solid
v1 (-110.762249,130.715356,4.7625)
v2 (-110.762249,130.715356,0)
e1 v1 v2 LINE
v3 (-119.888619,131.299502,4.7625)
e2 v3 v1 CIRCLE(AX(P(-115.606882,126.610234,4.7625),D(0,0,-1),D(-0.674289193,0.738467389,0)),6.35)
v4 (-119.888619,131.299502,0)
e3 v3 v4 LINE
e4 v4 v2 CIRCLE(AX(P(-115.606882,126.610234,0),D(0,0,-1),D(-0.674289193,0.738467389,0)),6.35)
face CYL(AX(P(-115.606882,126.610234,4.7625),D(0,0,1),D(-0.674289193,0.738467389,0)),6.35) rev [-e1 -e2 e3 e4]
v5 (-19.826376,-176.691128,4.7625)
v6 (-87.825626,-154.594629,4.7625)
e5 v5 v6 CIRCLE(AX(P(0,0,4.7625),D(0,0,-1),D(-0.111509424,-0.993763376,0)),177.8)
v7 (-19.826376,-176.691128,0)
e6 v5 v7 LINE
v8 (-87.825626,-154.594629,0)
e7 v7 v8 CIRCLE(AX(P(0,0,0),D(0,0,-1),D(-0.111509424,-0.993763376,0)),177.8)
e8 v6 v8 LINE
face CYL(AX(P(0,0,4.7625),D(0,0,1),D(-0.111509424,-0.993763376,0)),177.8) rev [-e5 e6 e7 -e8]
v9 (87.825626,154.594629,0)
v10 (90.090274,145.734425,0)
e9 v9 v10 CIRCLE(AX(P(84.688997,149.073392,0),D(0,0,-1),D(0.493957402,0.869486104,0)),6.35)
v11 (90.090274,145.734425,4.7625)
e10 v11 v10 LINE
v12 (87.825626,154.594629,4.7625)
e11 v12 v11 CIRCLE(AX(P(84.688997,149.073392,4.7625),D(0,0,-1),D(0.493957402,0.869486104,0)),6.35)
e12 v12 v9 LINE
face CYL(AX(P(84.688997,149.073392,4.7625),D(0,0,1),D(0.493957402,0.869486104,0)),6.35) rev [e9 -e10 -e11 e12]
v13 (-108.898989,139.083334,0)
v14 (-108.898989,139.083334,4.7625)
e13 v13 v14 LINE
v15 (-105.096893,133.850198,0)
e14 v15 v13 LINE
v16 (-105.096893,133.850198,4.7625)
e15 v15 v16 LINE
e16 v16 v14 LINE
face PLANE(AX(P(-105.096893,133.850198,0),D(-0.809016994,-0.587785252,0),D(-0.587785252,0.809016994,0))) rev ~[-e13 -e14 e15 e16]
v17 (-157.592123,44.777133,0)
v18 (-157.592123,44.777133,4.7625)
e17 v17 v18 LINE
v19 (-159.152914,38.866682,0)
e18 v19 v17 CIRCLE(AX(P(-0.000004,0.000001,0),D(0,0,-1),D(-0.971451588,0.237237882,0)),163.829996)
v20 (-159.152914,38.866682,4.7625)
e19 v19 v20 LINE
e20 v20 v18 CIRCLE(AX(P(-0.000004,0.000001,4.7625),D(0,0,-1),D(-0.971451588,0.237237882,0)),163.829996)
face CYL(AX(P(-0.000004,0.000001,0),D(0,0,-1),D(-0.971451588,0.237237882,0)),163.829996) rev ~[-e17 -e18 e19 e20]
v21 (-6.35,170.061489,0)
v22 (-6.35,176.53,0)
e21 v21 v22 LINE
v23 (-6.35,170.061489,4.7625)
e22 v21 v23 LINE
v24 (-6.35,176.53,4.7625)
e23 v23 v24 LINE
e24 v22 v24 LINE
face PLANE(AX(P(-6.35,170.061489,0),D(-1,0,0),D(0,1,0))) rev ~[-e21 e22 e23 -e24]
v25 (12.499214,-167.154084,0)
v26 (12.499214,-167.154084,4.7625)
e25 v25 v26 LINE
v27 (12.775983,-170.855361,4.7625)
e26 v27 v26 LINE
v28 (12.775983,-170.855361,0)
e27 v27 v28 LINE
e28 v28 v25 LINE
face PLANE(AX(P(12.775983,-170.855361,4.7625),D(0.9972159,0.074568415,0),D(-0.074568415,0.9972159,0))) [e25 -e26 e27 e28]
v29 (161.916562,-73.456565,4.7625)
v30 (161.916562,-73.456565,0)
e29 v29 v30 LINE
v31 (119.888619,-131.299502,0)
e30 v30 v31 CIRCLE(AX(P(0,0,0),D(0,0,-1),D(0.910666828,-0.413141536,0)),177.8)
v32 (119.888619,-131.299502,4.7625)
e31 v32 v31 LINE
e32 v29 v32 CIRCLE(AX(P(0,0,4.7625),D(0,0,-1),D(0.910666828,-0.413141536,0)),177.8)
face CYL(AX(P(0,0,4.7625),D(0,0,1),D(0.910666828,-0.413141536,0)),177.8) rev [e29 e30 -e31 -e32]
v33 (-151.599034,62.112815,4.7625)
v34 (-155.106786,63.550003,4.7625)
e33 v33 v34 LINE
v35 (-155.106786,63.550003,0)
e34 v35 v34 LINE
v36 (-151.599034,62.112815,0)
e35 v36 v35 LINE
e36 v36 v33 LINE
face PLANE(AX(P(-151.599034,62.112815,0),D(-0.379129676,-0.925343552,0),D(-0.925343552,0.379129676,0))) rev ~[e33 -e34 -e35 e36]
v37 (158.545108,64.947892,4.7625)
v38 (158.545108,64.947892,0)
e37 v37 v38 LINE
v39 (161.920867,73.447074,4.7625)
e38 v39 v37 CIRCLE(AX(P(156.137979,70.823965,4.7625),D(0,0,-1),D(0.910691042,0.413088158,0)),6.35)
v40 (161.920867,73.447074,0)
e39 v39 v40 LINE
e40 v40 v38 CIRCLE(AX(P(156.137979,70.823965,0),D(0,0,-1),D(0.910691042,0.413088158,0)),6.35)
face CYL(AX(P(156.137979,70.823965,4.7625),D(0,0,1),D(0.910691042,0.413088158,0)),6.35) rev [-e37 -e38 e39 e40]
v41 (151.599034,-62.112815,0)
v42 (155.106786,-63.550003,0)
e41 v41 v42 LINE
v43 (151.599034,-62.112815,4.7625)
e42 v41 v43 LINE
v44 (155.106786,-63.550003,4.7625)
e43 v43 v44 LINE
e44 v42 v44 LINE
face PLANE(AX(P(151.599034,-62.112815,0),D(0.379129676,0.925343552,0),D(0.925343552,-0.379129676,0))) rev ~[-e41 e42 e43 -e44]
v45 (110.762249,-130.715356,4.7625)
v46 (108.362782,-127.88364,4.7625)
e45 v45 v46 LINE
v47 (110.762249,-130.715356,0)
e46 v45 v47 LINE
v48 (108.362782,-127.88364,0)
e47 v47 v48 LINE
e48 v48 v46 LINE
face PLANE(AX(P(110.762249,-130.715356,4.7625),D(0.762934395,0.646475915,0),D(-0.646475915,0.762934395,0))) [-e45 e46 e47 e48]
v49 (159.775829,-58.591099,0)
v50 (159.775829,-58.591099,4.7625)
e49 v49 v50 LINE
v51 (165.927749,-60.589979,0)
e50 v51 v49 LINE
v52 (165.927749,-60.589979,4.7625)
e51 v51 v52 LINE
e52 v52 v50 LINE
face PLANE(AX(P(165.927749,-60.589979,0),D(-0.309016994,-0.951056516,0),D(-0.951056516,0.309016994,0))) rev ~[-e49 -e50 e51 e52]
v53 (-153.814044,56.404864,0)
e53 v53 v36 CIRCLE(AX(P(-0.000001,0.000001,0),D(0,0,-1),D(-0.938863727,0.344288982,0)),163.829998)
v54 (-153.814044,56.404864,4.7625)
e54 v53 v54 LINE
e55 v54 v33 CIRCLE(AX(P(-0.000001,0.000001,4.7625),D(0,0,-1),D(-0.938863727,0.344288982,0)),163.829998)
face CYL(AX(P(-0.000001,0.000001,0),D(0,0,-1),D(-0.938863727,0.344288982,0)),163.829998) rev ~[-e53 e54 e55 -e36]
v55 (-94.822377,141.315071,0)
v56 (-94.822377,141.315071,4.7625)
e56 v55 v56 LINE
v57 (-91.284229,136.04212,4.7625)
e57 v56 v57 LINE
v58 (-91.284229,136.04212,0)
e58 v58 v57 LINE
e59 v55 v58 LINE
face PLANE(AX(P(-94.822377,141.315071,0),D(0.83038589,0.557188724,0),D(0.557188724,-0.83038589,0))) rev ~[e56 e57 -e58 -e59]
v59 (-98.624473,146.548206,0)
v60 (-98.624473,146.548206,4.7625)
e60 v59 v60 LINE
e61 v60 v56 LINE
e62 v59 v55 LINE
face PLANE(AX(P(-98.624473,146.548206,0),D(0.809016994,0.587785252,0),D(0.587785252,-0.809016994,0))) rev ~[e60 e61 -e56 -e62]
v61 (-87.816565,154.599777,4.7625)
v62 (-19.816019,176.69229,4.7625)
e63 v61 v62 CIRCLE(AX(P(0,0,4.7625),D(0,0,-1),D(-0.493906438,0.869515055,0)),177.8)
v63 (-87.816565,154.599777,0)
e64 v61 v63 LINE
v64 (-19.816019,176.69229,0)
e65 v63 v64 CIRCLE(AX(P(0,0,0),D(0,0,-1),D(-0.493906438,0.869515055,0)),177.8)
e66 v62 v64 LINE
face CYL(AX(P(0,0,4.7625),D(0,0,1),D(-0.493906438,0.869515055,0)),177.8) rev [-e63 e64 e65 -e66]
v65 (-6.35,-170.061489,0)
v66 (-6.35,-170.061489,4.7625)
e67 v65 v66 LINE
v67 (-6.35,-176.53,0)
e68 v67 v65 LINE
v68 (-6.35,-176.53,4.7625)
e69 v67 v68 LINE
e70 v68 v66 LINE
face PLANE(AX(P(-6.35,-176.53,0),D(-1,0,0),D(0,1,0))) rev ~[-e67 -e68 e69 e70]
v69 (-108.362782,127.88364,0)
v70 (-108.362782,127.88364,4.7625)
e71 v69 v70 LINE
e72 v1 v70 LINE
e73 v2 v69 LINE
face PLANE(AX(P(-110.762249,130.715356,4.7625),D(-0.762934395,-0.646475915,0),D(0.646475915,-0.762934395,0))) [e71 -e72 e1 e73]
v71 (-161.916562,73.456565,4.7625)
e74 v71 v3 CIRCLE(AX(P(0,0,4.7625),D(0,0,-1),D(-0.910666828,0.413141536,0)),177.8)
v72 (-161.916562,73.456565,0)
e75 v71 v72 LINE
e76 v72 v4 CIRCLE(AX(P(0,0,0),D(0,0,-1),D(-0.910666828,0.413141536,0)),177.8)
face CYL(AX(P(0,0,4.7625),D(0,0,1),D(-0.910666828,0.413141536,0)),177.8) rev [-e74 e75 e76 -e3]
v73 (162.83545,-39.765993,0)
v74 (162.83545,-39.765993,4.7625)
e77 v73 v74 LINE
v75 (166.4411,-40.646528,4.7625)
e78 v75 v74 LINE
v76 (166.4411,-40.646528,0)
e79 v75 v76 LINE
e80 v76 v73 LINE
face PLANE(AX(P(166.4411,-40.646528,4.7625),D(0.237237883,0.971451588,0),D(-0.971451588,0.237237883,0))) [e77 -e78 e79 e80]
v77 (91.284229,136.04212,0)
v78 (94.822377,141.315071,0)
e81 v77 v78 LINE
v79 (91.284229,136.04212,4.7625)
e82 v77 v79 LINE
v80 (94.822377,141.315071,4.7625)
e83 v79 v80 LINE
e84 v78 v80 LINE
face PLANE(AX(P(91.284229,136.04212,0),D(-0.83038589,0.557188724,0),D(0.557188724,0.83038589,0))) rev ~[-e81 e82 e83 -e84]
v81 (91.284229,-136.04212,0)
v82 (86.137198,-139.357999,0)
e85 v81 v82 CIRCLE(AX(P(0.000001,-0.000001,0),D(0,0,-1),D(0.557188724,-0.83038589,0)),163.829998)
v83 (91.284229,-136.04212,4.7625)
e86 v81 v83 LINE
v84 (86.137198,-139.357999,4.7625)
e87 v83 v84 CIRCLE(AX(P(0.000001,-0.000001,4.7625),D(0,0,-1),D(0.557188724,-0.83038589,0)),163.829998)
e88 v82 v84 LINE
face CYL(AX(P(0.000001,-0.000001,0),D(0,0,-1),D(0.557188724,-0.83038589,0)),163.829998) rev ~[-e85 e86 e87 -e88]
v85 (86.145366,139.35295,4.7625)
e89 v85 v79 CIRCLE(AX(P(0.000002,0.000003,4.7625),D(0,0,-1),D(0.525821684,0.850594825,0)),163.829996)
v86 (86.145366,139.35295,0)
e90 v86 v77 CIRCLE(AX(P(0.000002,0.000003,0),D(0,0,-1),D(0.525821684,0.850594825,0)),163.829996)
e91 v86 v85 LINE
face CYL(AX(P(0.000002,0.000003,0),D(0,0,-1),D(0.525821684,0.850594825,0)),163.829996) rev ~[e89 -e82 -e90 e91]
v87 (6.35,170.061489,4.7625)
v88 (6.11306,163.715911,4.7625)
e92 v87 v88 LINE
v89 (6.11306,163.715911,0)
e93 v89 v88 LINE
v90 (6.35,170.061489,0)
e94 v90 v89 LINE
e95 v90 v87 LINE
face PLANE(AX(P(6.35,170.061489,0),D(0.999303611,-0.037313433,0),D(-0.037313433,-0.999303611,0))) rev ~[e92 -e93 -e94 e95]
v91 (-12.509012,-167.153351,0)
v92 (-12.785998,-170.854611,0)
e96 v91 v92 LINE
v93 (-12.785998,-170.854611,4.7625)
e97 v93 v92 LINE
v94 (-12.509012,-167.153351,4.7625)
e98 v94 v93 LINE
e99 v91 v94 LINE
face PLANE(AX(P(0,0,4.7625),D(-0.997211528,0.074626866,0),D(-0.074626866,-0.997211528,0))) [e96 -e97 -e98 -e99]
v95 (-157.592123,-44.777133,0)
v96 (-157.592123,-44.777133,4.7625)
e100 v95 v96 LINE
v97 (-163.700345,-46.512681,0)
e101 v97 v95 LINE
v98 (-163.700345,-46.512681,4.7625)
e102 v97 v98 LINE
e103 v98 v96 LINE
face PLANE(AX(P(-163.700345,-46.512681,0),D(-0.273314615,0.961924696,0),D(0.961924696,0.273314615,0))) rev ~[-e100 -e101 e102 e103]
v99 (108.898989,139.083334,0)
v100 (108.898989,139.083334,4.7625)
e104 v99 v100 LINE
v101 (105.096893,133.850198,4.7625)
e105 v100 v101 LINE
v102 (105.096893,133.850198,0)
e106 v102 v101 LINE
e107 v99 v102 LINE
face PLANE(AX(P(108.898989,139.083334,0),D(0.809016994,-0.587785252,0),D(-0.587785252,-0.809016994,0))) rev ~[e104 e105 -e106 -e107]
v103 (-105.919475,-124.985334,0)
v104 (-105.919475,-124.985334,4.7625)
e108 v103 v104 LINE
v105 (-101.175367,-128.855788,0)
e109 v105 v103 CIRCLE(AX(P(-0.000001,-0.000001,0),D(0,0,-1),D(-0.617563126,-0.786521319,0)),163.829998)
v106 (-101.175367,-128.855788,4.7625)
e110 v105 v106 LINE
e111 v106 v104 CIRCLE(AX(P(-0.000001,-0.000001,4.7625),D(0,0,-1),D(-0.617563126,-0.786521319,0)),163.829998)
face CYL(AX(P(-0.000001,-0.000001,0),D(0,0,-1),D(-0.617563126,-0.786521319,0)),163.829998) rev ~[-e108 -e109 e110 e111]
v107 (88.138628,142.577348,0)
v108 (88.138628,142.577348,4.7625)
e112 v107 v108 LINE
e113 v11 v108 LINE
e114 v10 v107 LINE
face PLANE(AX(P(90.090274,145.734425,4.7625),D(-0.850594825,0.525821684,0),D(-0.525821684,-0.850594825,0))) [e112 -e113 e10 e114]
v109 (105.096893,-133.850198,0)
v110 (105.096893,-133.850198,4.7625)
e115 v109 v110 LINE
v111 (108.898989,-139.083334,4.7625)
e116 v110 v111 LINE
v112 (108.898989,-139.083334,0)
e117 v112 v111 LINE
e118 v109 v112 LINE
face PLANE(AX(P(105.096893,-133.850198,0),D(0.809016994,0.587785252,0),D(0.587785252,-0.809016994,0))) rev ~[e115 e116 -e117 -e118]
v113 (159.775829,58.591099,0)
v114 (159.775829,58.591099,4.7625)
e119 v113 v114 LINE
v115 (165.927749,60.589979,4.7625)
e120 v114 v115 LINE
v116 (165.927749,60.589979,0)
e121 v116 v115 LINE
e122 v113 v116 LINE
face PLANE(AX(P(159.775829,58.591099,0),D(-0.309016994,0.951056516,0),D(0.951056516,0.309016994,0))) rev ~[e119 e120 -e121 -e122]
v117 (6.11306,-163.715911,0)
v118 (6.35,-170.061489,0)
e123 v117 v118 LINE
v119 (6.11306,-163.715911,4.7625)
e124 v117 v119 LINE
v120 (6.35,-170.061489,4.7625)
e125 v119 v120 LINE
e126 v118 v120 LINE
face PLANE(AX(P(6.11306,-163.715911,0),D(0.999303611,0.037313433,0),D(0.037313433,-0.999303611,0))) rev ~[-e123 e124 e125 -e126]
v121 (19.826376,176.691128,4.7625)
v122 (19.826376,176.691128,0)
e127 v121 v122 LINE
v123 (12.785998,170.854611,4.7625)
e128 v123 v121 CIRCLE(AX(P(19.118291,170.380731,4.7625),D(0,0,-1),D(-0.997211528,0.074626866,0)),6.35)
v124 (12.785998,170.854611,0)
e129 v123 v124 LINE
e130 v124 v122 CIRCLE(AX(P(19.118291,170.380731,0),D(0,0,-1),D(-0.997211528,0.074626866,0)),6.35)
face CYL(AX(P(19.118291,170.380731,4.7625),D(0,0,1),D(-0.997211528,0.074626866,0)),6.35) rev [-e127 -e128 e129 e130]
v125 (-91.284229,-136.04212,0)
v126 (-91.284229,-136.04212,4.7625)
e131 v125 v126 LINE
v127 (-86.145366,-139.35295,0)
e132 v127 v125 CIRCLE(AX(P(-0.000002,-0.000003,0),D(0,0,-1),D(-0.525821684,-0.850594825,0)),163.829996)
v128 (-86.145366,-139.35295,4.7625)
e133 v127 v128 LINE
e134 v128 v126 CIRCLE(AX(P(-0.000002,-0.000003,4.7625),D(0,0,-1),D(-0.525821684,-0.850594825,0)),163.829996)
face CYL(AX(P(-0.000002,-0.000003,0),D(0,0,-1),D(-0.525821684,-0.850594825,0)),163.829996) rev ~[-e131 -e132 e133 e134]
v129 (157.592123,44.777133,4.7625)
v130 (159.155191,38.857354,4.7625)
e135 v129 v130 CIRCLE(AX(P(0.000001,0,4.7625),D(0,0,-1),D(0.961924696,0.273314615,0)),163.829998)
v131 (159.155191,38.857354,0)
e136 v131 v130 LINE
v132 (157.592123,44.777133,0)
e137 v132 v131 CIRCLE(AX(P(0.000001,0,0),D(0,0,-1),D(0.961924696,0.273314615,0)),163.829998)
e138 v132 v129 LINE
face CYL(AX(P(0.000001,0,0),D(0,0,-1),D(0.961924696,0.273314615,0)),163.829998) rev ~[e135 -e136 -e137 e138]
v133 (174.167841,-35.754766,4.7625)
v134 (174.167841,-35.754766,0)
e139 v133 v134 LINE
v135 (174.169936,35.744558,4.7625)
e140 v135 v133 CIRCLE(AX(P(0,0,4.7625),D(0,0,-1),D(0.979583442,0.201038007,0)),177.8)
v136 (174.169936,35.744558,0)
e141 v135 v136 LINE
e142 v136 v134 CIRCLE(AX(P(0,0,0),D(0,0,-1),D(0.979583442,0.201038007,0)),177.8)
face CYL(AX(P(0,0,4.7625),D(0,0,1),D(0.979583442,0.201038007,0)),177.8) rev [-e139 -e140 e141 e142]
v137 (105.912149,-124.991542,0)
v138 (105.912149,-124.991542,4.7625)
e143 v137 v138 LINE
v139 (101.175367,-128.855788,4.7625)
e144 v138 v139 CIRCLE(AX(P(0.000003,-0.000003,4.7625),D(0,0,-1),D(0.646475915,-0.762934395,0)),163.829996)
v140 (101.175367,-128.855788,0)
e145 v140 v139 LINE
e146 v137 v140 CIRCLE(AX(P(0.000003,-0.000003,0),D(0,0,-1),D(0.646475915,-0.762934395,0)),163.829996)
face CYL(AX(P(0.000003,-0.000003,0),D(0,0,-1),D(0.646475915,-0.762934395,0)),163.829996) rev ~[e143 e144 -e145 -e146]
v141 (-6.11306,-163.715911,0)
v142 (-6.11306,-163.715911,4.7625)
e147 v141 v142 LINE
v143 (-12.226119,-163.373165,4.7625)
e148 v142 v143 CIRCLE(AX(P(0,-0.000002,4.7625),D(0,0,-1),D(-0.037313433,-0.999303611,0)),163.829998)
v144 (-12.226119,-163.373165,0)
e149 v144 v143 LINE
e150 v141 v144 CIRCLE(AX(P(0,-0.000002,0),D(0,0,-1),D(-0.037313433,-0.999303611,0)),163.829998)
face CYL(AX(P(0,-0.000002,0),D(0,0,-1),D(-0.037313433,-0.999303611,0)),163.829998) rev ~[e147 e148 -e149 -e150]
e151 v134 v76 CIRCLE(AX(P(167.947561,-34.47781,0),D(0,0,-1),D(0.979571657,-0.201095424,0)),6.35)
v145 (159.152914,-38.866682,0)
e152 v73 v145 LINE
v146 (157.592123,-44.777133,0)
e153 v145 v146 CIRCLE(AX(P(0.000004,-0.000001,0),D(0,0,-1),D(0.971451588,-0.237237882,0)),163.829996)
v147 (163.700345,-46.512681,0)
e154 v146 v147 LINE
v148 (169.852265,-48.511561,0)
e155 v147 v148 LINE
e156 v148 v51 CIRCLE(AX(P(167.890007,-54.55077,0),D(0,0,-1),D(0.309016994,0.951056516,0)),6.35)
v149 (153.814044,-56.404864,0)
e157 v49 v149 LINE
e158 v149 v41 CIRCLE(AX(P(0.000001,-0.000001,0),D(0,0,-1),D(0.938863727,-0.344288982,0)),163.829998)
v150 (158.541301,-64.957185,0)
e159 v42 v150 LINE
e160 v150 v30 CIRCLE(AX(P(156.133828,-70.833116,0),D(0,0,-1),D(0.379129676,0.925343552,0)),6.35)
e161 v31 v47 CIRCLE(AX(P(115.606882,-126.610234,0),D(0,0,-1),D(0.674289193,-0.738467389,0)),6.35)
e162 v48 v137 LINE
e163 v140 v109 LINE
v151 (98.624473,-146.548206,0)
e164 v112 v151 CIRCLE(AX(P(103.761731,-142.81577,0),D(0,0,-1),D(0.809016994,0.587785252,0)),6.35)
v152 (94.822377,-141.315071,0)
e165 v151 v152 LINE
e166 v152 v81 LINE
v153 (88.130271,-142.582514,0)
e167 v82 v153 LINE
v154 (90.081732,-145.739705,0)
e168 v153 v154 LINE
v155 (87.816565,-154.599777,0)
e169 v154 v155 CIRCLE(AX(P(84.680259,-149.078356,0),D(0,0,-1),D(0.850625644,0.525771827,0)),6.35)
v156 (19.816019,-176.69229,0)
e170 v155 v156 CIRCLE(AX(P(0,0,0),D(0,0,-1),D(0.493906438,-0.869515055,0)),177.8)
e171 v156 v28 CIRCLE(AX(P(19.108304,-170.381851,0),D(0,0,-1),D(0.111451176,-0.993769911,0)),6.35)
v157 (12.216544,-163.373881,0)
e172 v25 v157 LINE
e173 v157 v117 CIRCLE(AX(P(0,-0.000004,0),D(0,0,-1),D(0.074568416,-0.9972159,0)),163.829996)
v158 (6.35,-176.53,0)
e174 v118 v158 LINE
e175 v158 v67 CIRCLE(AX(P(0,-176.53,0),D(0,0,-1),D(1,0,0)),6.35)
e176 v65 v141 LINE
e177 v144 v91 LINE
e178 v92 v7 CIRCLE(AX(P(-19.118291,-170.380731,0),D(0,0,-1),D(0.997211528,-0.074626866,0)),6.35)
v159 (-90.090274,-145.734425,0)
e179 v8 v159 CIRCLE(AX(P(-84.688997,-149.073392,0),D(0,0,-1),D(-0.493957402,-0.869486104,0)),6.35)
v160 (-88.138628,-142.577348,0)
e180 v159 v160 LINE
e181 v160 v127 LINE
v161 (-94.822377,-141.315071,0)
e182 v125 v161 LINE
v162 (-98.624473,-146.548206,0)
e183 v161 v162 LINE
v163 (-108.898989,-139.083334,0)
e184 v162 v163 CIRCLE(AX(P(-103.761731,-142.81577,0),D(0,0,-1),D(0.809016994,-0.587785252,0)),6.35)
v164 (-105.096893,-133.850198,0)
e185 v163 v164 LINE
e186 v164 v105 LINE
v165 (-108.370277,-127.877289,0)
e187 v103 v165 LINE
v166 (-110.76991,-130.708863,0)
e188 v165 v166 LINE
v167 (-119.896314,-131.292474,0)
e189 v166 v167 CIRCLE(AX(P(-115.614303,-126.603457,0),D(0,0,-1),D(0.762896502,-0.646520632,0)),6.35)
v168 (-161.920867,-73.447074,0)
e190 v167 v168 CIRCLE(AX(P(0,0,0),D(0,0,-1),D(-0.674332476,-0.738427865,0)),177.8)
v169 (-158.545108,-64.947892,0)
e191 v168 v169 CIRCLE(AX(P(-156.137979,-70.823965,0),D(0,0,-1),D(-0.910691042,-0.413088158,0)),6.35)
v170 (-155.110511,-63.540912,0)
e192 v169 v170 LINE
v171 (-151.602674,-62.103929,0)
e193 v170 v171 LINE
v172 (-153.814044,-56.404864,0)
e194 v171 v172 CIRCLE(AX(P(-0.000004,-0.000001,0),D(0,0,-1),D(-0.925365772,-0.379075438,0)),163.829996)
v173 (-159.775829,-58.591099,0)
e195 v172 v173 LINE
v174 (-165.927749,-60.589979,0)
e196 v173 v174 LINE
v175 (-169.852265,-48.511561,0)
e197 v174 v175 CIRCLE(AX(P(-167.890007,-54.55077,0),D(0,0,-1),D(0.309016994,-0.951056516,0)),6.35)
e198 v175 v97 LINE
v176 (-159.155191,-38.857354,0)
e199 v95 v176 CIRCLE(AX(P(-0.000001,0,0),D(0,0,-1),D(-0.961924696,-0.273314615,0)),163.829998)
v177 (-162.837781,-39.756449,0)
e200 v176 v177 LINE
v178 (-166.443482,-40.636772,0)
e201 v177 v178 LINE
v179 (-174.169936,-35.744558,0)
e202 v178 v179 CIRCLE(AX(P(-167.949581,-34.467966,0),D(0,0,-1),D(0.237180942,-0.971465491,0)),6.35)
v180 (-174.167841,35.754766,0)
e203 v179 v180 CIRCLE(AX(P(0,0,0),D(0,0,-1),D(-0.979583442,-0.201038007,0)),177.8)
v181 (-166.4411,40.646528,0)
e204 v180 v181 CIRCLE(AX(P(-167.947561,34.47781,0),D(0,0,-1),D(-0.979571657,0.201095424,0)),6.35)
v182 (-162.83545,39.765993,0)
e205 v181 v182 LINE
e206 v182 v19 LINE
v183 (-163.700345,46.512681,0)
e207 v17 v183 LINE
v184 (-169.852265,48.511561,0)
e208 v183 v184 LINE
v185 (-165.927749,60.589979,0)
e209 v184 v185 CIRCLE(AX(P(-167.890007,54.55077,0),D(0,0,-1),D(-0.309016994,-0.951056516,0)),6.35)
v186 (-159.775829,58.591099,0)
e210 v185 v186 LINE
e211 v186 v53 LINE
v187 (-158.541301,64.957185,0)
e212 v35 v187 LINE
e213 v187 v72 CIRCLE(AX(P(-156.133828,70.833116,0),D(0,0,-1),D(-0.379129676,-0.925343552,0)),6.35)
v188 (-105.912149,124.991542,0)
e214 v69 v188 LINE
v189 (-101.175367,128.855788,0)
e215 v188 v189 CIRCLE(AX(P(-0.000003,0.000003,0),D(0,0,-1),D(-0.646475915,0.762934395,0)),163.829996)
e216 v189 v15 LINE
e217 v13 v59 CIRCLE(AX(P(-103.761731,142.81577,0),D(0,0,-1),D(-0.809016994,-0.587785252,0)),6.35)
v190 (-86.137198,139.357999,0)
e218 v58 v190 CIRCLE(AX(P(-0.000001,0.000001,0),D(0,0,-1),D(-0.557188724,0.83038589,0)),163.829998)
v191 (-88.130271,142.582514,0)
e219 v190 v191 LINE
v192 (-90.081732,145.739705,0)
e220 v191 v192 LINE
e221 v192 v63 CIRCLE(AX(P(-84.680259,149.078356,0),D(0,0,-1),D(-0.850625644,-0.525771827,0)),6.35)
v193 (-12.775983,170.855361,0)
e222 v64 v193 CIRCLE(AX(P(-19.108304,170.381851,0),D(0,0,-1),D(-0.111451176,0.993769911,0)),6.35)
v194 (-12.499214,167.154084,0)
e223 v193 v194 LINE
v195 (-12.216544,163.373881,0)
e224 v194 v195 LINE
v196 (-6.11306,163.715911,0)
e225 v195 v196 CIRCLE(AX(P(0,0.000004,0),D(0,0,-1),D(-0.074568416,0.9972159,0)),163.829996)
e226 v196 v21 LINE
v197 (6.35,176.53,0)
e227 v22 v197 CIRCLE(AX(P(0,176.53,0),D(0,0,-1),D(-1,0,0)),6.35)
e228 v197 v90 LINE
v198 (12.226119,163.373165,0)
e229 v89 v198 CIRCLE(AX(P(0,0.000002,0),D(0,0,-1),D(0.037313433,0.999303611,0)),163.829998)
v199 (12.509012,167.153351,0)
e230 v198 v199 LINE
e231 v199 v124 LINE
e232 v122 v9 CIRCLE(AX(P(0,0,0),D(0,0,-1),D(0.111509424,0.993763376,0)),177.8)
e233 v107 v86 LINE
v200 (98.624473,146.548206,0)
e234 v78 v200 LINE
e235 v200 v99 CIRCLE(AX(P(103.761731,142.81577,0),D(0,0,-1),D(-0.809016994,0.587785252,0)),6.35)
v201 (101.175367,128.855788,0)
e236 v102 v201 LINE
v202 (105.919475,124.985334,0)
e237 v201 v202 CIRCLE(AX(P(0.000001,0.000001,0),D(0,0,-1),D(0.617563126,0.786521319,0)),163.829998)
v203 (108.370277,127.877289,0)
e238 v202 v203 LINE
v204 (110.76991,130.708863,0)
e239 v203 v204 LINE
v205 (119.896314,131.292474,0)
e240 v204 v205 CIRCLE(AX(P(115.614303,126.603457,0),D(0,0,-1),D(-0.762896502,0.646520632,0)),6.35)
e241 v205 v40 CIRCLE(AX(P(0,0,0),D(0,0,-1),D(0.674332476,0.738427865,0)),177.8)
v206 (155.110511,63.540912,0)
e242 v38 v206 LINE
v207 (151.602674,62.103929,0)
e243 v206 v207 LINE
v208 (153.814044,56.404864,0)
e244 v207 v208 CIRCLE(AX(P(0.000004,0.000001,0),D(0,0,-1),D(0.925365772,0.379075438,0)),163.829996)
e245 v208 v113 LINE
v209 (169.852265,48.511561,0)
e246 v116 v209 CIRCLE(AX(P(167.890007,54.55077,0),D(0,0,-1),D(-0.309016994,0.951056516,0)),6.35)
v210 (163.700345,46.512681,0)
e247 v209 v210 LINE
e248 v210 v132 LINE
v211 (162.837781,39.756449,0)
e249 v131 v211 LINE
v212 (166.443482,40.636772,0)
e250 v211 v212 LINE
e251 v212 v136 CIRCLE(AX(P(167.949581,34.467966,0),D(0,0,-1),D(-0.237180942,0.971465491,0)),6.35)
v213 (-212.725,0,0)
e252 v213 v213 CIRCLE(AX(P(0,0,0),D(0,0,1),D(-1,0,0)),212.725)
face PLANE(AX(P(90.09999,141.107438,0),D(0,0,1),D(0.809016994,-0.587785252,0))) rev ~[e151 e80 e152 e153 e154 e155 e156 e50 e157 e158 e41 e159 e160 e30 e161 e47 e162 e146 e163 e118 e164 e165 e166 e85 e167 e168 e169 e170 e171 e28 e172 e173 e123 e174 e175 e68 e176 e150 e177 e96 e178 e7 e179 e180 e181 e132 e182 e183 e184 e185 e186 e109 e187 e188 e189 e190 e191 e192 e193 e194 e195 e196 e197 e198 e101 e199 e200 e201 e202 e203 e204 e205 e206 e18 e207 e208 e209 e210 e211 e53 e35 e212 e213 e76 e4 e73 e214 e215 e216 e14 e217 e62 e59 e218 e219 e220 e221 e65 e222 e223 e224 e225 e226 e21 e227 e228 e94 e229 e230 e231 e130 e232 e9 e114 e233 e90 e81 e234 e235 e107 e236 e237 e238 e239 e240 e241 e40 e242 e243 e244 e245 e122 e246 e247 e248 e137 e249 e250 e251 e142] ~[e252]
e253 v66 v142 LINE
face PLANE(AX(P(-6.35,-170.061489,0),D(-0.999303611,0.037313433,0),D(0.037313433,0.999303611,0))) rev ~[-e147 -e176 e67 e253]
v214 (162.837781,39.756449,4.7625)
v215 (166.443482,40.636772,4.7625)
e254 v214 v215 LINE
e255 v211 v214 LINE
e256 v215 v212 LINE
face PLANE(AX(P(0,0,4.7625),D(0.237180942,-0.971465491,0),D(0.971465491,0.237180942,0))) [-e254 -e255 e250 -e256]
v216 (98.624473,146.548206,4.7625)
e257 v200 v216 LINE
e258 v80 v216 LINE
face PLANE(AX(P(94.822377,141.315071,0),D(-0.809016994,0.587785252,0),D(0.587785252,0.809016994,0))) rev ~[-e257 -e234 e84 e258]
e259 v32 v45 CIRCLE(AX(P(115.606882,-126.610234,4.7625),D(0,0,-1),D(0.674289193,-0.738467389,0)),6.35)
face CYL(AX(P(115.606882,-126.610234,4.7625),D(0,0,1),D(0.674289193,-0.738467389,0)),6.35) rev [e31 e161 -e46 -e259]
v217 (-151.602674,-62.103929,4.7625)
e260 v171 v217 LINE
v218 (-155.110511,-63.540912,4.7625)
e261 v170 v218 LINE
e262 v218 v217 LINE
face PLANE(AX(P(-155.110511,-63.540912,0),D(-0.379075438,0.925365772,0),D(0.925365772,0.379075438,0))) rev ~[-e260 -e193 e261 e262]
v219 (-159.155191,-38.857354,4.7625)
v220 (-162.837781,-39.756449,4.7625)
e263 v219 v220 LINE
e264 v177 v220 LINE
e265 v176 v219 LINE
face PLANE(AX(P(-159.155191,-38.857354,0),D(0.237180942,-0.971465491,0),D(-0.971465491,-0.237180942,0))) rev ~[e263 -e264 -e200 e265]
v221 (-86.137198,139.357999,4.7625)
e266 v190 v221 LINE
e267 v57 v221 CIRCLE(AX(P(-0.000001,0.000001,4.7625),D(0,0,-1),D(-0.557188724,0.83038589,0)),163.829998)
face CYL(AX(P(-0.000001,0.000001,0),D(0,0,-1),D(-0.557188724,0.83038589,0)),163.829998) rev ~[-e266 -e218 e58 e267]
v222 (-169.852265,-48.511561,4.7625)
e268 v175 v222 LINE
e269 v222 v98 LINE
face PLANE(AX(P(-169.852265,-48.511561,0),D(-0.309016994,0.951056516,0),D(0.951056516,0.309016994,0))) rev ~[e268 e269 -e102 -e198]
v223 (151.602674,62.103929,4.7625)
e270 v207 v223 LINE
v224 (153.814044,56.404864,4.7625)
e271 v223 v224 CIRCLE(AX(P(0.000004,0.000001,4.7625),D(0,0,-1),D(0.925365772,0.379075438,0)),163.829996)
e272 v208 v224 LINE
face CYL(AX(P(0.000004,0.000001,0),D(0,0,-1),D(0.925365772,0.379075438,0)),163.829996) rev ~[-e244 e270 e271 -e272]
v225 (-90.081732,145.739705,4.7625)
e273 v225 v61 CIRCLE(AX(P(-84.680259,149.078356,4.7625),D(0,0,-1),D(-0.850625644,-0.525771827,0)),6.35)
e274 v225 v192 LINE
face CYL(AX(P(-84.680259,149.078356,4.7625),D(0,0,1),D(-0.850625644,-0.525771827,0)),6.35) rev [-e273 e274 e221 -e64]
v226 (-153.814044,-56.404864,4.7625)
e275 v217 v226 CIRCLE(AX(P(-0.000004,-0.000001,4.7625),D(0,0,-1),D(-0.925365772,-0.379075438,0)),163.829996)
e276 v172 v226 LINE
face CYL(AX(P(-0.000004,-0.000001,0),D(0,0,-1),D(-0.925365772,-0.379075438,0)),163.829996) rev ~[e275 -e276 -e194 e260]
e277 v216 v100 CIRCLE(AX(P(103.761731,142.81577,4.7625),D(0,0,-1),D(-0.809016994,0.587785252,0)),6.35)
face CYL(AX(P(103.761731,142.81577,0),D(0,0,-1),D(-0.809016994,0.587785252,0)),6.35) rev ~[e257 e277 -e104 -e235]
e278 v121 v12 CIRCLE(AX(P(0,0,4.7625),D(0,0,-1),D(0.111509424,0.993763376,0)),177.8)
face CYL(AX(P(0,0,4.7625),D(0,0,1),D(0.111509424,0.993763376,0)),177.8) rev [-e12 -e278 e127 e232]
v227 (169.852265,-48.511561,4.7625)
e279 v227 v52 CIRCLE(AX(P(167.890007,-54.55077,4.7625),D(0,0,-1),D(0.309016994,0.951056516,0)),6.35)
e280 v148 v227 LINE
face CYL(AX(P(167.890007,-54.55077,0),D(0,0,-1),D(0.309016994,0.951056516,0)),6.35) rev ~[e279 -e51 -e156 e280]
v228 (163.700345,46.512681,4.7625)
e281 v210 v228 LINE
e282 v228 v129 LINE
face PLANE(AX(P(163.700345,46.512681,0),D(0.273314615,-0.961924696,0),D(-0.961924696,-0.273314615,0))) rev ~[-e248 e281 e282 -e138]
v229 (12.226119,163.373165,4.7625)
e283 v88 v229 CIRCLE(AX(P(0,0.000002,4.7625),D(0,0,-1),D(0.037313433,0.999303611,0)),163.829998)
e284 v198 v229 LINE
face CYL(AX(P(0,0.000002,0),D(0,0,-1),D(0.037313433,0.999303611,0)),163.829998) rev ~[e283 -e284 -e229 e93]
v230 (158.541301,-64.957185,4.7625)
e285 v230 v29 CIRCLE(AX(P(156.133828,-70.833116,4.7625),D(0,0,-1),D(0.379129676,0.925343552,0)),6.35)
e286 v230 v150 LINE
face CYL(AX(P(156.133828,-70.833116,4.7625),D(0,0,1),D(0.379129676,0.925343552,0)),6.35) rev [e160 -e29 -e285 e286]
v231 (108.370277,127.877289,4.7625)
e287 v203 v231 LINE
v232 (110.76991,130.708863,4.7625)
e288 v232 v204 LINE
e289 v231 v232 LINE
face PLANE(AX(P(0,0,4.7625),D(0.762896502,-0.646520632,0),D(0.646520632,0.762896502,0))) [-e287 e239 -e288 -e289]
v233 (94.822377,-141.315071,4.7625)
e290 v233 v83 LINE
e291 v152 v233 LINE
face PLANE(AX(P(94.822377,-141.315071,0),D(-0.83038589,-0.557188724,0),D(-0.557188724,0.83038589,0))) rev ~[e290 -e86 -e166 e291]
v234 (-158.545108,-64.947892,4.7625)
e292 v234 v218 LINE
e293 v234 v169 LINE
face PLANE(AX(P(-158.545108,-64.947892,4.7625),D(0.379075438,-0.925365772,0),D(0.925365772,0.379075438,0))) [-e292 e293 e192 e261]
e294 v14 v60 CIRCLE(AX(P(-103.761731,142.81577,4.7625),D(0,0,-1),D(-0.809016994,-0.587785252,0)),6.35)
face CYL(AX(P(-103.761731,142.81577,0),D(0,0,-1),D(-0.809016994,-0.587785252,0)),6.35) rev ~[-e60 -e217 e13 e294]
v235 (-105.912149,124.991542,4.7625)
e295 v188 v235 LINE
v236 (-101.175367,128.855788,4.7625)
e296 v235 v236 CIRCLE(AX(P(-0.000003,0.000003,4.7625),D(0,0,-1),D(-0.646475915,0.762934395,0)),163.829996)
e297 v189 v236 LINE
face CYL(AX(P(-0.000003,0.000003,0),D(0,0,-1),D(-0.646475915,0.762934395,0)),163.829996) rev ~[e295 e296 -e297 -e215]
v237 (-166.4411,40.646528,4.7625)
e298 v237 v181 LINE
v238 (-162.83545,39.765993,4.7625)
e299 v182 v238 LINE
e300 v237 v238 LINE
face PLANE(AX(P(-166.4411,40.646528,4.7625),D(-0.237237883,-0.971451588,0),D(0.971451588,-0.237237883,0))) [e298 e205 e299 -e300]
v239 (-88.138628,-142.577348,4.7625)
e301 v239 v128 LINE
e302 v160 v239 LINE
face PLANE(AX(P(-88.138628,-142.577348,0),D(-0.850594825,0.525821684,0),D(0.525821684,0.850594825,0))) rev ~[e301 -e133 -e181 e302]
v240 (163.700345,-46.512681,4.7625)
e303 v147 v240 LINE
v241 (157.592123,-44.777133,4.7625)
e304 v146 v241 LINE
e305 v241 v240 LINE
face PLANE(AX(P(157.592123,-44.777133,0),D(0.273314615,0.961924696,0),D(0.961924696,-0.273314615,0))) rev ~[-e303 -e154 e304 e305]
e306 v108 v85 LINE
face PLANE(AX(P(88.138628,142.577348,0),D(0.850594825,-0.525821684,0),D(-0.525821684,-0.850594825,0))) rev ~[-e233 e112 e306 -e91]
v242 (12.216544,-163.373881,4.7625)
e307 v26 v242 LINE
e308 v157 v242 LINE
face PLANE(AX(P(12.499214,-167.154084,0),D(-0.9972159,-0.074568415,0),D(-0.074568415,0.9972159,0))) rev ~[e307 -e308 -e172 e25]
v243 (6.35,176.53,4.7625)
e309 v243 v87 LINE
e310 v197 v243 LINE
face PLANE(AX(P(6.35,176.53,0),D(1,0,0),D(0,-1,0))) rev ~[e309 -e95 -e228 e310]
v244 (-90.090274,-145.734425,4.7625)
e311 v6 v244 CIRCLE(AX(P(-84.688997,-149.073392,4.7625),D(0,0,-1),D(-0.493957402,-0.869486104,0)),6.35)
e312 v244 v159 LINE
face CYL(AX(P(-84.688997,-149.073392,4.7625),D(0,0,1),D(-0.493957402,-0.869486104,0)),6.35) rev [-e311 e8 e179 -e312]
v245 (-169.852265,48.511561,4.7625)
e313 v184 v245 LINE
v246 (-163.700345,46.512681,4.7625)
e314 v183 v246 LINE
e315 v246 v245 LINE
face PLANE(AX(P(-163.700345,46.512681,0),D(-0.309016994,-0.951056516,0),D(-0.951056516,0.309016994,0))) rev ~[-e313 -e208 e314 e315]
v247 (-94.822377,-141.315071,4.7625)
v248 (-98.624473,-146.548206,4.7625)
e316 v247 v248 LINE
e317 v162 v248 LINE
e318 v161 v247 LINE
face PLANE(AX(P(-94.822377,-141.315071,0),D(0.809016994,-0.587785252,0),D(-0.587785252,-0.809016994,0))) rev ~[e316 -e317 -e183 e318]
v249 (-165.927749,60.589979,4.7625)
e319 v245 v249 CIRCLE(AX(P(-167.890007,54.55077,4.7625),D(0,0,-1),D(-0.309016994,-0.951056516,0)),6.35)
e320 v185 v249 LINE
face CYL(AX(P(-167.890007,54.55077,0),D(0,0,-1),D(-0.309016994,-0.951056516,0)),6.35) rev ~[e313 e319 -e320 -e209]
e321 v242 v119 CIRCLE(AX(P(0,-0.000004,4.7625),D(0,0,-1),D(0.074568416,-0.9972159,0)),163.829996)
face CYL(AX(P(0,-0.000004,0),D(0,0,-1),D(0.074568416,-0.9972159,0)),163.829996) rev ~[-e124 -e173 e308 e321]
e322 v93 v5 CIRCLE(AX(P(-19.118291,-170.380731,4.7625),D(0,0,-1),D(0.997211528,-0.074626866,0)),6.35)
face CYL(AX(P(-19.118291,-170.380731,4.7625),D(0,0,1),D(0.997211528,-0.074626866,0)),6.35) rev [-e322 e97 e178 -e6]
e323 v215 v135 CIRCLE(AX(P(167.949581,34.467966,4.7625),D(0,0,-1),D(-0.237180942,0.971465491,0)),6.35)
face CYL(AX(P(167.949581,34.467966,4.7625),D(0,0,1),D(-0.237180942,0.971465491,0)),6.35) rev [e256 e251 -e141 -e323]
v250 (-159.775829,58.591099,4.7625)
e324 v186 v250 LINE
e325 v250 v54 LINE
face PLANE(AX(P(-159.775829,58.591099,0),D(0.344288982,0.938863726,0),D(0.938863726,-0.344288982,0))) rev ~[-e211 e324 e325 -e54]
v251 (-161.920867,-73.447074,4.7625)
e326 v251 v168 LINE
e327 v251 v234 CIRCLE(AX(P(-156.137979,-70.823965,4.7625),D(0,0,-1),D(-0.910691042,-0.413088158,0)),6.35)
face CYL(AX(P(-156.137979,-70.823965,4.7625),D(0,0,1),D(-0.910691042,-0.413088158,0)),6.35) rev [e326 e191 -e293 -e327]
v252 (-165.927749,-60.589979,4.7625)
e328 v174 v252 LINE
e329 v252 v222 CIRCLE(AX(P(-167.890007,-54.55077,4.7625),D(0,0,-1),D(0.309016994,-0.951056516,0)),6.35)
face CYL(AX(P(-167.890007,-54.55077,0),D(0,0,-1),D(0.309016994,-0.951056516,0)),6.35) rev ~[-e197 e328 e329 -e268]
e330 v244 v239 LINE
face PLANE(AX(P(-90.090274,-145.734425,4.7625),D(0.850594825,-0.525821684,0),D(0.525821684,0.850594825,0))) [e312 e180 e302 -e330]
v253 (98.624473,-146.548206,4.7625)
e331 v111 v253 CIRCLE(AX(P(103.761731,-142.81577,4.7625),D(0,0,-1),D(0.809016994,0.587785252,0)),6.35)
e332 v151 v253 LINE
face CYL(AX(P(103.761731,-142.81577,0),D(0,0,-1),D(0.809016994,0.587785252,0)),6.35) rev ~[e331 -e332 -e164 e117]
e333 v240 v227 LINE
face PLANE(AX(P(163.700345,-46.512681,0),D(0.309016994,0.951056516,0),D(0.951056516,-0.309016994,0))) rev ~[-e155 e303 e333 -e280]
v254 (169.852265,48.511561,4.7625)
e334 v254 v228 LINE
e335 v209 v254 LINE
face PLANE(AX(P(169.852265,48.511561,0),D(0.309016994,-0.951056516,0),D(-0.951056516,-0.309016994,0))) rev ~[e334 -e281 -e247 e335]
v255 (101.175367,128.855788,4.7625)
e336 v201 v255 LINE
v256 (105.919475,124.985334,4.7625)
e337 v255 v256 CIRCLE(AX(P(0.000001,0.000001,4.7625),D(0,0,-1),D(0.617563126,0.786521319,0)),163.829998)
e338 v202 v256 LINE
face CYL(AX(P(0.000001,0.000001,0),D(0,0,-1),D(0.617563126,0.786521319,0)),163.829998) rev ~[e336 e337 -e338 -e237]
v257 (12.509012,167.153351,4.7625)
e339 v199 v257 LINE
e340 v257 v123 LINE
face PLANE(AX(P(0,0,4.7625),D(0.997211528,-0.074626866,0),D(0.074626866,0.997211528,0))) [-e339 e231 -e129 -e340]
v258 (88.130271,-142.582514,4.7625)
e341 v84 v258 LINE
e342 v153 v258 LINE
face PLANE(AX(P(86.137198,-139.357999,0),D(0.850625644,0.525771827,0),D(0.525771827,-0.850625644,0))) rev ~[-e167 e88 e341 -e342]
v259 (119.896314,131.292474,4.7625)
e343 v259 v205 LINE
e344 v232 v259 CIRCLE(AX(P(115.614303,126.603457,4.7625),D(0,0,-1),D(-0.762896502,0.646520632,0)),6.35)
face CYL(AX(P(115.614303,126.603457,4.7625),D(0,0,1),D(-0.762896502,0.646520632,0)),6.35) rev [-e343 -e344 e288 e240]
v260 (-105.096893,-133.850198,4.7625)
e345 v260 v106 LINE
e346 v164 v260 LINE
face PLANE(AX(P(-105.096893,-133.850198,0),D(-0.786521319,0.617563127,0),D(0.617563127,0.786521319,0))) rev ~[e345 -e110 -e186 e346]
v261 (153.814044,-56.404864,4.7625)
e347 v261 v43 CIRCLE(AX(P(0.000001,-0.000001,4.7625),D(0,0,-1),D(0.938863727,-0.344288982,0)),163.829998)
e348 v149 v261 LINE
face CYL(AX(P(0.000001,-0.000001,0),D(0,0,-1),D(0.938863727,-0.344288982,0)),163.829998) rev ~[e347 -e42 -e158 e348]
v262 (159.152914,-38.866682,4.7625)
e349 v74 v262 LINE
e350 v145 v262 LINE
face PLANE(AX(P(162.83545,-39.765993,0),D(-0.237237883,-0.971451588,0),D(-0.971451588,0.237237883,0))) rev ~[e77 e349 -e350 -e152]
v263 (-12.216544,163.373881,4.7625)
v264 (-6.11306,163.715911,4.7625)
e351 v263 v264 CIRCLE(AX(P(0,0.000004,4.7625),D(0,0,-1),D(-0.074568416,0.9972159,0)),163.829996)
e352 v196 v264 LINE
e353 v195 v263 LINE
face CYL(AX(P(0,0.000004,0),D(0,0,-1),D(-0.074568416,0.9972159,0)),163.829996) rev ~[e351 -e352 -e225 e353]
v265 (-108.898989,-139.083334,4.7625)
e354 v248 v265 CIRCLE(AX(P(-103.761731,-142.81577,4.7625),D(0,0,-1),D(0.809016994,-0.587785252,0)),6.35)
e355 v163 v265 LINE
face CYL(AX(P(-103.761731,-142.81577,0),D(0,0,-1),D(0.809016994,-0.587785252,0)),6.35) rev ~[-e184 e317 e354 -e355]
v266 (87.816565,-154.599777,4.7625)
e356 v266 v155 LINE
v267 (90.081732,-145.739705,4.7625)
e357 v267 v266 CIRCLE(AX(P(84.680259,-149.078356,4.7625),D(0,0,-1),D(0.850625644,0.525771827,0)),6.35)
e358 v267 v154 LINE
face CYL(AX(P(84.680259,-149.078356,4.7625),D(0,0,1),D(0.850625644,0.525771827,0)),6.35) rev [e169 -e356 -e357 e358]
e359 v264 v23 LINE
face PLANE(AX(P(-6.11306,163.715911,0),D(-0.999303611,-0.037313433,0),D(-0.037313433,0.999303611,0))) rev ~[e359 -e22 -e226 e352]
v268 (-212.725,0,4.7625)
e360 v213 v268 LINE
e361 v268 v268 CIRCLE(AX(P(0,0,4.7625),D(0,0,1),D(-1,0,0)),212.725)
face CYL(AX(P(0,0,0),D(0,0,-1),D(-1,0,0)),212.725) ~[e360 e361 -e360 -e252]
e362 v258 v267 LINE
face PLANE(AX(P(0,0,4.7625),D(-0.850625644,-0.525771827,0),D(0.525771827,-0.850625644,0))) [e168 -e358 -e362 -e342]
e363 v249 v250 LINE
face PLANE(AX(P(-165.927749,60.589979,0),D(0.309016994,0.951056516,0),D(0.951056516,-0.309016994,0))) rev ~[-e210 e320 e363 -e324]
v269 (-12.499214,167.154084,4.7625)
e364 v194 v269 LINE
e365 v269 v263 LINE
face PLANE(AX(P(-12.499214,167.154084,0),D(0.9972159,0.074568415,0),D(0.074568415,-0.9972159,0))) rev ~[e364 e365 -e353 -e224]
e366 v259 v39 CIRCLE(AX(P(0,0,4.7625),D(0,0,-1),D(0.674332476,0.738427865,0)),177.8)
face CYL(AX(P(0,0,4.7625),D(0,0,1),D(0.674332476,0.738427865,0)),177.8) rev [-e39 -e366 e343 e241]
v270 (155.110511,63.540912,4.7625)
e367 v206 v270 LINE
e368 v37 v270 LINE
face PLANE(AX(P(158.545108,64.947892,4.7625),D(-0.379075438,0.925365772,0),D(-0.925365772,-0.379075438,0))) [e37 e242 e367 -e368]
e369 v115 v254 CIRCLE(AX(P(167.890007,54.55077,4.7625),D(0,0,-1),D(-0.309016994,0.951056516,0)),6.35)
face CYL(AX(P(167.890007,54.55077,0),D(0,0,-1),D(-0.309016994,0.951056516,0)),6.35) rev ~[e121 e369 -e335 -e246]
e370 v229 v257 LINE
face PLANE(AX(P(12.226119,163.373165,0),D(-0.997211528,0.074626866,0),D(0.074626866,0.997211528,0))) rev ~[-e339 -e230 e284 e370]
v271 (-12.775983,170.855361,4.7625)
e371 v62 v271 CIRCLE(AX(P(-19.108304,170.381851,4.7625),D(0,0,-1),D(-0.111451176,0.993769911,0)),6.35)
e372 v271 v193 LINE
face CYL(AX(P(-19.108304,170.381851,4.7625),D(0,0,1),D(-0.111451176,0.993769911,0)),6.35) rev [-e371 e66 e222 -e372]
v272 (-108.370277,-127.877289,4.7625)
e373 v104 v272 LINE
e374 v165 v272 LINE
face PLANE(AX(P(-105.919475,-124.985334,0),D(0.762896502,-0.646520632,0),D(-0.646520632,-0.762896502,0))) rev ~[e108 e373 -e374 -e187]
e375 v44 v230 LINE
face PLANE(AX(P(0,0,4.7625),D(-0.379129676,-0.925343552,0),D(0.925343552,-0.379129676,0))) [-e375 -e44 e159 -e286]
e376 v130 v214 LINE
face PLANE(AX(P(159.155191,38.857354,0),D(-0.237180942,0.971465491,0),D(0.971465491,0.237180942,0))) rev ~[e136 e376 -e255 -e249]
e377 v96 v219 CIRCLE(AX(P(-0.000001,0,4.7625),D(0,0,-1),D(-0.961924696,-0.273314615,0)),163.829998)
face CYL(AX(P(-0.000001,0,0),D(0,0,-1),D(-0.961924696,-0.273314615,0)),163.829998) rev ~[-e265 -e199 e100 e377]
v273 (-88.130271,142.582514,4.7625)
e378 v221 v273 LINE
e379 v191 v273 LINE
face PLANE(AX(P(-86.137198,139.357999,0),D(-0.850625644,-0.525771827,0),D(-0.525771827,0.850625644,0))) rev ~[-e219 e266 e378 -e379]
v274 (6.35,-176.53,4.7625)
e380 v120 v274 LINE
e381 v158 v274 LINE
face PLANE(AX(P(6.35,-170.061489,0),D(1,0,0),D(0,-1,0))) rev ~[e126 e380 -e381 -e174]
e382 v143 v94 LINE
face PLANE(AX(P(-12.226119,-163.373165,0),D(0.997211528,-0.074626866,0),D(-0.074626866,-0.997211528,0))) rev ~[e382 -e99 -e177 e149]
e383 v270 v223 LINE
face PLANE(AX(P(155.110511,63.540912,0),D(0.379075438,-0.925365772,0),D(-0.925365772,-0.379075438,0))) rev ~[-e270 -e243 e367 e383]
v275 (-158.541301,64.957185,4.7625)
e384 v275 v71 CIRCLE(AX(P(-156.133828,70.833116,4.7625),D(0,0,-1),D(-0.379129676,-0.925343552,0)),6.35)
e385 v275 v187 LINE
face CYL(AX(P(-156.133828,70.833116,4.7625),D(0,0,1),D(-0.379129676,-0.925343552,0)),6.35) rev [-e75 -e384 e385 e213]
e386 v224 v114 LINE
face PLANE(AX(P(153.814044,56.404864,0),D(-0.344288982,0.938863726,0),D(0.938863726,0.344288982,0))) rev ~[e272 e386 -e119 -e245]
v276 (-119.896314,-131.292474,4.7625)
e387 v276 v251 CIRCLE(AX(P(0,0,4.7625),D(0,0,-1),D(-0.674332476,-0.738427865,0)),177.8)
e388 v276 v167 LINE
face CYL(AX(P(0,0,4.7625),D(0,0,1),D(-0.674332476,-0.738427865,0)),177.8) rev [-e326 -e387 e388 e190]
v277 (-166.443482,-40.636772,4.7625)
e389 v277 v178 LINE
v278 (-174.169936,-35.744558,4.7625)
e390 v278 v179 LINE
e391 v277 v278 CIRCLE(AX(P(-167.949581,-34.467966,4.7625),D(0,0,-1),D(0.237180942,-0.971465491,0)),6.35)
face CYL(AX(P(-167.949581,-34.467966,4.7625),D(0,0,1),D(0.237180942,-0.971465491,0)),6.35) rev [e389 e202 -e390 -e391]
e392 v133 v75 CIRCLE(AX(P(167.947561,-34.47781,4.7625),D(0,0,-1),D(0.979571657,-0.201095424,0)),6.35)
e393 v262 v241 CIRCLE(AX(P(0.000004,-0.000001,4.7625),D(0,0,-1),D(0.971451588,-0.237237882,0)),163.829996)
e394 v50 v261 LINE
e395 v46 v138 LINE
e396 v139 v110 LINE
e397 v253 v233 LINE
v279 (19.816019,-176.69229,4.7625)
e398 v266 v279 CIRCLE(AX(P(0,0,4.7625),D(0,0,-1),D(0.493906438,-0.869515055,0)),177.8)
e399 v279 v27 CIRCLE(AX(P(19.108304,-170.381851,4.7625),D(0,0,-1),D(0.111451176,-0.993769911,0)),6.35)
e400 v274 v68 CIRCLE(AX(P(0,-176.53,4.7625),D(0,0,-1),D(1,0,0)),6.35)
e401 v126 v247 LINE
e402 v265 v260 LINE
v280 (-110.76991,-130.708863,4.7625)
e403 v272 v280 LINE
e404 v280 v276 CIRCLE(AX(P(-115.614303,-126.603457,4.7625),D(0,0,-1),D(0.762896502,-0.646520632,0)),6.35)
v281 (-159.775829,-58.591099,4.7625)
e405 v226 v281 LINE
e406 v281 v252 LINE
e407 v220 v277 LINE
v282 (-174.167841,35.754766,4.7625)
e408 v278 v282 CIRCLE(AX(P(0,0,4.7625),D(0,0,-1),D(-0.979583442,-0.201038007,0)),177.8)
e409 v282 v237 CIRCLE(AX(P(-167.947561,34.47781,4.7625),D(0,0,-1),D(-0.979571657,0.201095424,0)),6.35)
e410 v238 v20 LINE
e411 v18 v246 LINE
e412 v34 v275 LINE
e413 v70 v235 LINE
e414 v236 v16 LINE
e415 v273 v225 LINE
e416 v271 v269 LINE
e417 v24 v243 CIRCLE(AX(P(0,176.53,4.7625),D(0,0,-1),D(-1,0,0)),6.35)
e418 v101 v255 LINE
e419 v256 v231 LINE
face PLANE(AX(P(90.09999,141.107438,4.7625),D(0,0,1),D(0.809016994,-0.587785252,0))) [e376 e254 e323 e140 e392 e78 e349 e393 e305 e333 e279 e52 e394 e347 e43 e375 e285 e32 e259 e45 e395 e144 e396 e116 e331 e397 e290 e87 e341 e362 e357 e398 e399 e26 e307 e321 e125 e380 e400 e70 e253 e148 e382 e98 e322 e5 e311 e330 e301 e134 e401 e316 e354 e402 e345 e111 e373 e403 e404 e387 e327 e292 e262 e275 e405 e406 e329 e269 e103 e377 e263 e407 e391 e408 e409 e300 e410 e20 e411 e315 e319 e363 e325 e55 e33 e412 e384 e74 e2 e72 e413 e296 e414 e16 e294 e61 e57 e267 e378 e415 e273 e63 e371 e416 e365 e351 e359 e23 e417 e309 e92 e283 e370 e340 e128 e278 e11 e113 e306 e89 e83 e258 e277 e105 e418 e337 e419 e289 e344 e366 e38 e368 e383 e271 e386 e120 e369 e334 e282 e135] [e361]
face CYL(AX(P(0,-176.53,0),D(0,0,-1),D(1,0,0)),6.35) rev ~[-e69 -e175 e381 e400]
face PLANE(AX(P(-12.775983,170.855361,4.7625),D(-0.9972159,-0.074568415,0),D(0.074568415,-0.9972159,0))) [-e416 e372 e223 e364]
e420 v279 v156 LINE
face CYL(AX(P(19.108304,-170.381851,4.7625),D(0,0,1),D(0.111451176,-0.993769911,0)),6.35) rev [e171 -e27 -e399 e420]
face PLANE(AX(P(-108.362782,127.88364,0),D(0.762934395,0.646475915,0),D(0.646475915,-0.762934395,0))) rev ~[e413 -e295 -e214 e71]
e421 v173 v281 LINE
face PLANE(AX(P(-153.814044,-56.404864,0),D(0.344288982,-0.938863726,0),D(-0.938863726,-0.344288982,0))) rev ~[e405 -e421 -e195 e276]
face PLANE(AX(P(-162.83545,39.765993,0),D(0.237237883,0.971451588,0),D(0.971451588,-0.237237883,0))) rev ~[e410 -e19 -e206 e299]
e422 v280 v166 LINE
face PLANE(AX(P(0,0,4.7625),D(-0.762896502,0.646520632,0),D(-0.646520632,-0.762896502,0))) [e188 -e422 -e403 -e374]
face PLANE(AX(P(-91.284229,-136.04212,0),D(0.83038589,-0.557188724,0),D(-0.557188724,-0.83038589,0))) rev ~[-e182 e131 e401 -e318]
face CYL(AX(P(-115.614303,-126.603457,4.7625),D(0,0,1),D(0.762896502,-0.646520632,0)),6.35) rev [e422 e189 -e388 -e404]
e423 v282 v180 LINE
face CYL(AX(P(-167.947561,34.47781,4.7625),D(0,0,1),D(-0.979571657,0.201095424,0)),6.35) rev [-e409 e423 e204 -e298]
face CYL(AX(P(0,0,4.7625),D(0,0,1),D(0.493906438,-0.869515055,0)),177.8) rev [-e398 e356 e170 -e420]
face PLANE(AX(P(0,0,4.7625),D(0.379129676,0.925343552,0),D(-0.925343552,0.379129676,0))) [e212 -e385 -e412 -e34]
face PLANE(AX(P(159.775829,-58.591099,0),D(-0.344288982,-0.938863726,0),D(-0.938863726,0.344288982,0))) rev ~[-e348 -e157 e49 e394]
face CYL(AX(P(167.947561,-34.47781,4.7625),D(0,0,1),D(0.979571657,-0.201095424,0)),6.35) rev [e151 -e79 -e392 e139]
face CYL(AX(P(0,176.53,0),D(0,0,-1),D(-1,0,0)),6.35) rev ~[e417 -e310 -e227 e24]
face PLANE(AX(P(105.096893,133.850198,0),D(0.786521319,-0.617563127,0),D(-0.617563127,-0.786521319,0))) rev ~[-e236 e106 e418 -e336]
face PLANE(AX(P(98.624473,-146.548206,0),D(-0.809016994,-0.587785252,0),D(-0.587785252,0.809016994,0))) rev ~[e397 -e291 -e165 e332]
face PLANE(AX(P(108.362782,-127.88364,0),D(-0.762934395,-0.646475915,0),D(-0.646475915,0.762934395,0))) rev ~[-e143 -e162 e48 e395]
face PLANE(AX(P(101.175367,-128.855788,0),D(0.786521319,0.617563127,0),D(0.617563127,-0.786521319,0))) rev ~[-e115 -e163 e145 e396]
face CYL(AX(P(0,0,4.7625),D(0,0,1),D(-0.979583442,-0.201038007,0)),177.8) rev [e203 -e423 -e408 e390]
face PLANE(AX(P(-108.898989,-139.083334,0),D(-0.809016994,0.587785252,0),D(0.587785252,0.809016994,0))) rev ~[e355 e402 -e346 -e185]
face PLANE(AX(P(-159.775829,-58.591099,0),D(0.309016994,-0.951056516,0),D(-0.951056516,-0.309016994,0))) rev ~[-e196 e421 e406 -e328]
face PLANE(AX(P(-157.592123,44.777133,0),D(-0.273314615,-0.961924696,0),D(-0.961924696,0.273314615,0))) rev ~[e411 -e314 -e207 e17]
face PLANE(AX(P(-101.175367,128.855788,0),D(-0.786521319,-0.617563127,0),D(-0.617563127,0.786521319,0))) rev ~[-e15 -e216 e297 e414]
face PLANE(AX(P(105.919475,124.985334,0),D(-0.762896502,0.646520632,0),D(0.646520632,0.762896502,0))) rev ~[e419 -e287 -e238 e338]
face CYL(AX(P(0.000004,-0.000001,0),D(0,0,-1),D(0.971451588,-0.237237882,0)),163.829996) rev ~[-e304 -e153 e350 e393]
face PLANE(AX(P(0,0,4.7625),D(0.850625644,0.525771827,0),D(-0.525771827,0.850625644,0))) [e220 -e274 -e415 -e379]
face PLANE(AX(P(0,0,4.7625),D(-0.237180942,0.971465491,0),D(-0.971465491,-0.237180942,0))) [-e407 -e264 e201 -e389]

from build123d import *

# Parameters (mm, degrees)
SKETCH1_R           = 212.725
BOSS_EXTRUDE1_DEPTH = 4.7625
SKETCH8_R           = 170.18
CUT_EXTRUDE1_DEPTH  = 4.7625
CUT_EXTRUDE3_DEPTH  = 4.7625
CIRPATTERN1_COUNT   = 10
BOSS_EXTRUDE2_START = -4.7625
BOSS_EXTRUDE2_DEPTH = 4.7625
CIRPATTERN2_COUNT   = 10
CUT_EXTRUDE4_DEPTH  = 4.7625
CIRPATTERN3_COUNT   = 10


with BuildPart() as part:
    # Sketch1 → Boss-Extrude1 (new body)
    with BuildSketch(Plane.XY):
        with Locations(Location((0, 0, 0), (0, 0, 180))):
            Circle(SKETCH1_R)
    extrude(amount=BOSS_EXTRUDE1_DEPTH)

    # Sketch8 → Cut-Extrude1 (cut)
    with BuildSketch(Plane(origin=(0, 0, 0), x_dir=(-1, 0, 0), z_dir=(0, 0, -1))):
        Circle(SKETCH8_R)
    extrude(amount=-CUT_EXTRUDE1_DEPTH, mode=Mode.SUBTRACT)

    # Sketch9 → Cut-Extrude3 (cut)
    with BuildSketch(Plane(origin=(0, 0, 0), x_dir=(-1, 0, 0), z_dir=(0, 0, -1))):
        with BuildLine():
            ThreePointArc((6.35, 176.53), (0, 182.88), (-6.35, 176.53))
            Line((-6.35, 176.53), (6.35, 176.53))
        make_face()
        with BuildLine():
            Line((6.35, 176.53), (-6.35, 176.53))
            ThreePointArc((-6.35, 176.53), (-4.490128114, 172.039871993), (-1.51e-07, 170.18))
            ThreePointArc((-1.51e-07, 170.18), (4.490128007, 172.039871886), (6.35, 176.53))
        make_face()
        with BuildLine():
            ThreePointArc((-1.51e-07, 170.18), (3.175552827, 170.150369568), (6.35, 170.061488586))
            Line((6.35, 170.061488586), (6.35, 176.53))
            ThreePointArc((6.35, 176.53), (4.490128007, 172.039871886), (-1.51e-07, 170.18))
        make_face()
        with BuildLine():
            Line((-6.35, 176.53), (-6.35, 170.061488586))
            ThreePointArc((-6.35, 170.061488586), (-3.175552978, 170.150369566), (-1.51e-07, 170.18))
            ThreePointArc((-1.51e-07, 170.18), (-4.490128114, 172.039871993), (-6.35, 176.53))
        make_face()
    cut_extrude3 = extrude(amount=-CUT_EXTRUDE3_DEPTH, mode=Mode.SUBTRACT)

    # CirPattern1: Cut-Extrude3 ×10 about axis
    cirpattern1_axis = Axis((0, 0, 0), (0, 0, 1))
    for i in range(1, CIRPATTERN1_COUNT):
        add(cut_extrude3.rotate(cirpattern1_axis, i * 360 / CIRPATTERN1_COUNT), mode=Mode.SUBTRACT)

    # Sketch11 → Boss-Extrude2 (add)
    with BuildSketch(Plane.XY.offset(4.7625).offset(BOSS_EXTRUDE2_START)):
        with BuildLine():
            Line((-12.499214211, 167.15408354), (-12.216543508, 163.373880913))
            ThreePointArc((-12.216543508, 163.373880913), (-9.166397031, 163.573366003), (-6.113059701, 163.715910653))
            Line((-6.113059701, 163.715910653), (-6.35, 170.061488586))
            ThreePointArc((-6.35, 170.061488586), (-10.808670296, 169.836406717), (-15.259902334, 169.49444764))
            ThreePointArc((-15.259902334, 169.49444764), (-13.389651606, 168.902158369), (-12.499214211, 167.15408354))
        make_face()
        with BuildLine():
            ThreePointArc((15.269836972, 169.493552912), (10.813647646, 169.836089877), (6.35, 170.061488586))
            Line((6.35, 170.061488586), (6.113059701, 163.715910653))
            ThreePointArc((6.113059701, 163.715910653), (9.171190832, 163.573097295), (12.226119403, 163.373164578))
            Line((12.226119403, 163.373164578), (12.509011677, 167.15335063))
            ThreePointArc((12.509011677, 167.15335063), (13.399551531, 168.901373265), (15.269836972, 169.493552912))
        make_face()
    boss_extrude2 = extrude(amount=BOSS_EXTRUDE2_DEPTH)

    # CirPattern2: Boss-Extrude2 ×10 about axis
    cirpattern2_axis = Axis((0, 0, 0), (0, 0, 1))
    for i in range(1, CIRPATTERN2_COUNT):
        add(boss_extrude2.rotate(cirpattern2_axis, i * 360 / CIRPATTERN2_COUNT))

    # Sketch17 → Cut-Extrude4 (cut)
    with BuildSketch(Plane.XY.offset(4.7625)):
        with BuildLine():
            Line((0, 0), (110.76991022, 130.708863471))
            ThreePointArc((110.76991022, 130.708863471), (115.209063959, 132.940513661), (119.896314229, 131.292474401))
            ThreePointArc((119.896314229, 131.292474401), (143.846284335, 104.504002235), (161.920867248, 73.44707448))
            ThreePointArc((161.920867248, 73.44707448), (162.039514595, 68.479955466), (158.545108161, 64.947892023))
            Line((158.545108161, 64.947892023), (0, 0))
        make_face()
    cut_extrude4 = extrude(amount=-CUT_EXTRUDE4_DEPTH, mode=Mode.SUBTRACT)

    # CirPattern3: Cut-Extrude4 ×10 about axis
    cirpattern3_axis = Axis((0, 0, 0), (0, 0, 1))
    for i in range(1, CIRPATTERN3_COUNT):
        add(cut_extrude4.rotate(cirpattern3_axis, i * 360 / CIRPATTERN3_COUNT), mode=Mode.SUBTRACT)


solid = part.part
